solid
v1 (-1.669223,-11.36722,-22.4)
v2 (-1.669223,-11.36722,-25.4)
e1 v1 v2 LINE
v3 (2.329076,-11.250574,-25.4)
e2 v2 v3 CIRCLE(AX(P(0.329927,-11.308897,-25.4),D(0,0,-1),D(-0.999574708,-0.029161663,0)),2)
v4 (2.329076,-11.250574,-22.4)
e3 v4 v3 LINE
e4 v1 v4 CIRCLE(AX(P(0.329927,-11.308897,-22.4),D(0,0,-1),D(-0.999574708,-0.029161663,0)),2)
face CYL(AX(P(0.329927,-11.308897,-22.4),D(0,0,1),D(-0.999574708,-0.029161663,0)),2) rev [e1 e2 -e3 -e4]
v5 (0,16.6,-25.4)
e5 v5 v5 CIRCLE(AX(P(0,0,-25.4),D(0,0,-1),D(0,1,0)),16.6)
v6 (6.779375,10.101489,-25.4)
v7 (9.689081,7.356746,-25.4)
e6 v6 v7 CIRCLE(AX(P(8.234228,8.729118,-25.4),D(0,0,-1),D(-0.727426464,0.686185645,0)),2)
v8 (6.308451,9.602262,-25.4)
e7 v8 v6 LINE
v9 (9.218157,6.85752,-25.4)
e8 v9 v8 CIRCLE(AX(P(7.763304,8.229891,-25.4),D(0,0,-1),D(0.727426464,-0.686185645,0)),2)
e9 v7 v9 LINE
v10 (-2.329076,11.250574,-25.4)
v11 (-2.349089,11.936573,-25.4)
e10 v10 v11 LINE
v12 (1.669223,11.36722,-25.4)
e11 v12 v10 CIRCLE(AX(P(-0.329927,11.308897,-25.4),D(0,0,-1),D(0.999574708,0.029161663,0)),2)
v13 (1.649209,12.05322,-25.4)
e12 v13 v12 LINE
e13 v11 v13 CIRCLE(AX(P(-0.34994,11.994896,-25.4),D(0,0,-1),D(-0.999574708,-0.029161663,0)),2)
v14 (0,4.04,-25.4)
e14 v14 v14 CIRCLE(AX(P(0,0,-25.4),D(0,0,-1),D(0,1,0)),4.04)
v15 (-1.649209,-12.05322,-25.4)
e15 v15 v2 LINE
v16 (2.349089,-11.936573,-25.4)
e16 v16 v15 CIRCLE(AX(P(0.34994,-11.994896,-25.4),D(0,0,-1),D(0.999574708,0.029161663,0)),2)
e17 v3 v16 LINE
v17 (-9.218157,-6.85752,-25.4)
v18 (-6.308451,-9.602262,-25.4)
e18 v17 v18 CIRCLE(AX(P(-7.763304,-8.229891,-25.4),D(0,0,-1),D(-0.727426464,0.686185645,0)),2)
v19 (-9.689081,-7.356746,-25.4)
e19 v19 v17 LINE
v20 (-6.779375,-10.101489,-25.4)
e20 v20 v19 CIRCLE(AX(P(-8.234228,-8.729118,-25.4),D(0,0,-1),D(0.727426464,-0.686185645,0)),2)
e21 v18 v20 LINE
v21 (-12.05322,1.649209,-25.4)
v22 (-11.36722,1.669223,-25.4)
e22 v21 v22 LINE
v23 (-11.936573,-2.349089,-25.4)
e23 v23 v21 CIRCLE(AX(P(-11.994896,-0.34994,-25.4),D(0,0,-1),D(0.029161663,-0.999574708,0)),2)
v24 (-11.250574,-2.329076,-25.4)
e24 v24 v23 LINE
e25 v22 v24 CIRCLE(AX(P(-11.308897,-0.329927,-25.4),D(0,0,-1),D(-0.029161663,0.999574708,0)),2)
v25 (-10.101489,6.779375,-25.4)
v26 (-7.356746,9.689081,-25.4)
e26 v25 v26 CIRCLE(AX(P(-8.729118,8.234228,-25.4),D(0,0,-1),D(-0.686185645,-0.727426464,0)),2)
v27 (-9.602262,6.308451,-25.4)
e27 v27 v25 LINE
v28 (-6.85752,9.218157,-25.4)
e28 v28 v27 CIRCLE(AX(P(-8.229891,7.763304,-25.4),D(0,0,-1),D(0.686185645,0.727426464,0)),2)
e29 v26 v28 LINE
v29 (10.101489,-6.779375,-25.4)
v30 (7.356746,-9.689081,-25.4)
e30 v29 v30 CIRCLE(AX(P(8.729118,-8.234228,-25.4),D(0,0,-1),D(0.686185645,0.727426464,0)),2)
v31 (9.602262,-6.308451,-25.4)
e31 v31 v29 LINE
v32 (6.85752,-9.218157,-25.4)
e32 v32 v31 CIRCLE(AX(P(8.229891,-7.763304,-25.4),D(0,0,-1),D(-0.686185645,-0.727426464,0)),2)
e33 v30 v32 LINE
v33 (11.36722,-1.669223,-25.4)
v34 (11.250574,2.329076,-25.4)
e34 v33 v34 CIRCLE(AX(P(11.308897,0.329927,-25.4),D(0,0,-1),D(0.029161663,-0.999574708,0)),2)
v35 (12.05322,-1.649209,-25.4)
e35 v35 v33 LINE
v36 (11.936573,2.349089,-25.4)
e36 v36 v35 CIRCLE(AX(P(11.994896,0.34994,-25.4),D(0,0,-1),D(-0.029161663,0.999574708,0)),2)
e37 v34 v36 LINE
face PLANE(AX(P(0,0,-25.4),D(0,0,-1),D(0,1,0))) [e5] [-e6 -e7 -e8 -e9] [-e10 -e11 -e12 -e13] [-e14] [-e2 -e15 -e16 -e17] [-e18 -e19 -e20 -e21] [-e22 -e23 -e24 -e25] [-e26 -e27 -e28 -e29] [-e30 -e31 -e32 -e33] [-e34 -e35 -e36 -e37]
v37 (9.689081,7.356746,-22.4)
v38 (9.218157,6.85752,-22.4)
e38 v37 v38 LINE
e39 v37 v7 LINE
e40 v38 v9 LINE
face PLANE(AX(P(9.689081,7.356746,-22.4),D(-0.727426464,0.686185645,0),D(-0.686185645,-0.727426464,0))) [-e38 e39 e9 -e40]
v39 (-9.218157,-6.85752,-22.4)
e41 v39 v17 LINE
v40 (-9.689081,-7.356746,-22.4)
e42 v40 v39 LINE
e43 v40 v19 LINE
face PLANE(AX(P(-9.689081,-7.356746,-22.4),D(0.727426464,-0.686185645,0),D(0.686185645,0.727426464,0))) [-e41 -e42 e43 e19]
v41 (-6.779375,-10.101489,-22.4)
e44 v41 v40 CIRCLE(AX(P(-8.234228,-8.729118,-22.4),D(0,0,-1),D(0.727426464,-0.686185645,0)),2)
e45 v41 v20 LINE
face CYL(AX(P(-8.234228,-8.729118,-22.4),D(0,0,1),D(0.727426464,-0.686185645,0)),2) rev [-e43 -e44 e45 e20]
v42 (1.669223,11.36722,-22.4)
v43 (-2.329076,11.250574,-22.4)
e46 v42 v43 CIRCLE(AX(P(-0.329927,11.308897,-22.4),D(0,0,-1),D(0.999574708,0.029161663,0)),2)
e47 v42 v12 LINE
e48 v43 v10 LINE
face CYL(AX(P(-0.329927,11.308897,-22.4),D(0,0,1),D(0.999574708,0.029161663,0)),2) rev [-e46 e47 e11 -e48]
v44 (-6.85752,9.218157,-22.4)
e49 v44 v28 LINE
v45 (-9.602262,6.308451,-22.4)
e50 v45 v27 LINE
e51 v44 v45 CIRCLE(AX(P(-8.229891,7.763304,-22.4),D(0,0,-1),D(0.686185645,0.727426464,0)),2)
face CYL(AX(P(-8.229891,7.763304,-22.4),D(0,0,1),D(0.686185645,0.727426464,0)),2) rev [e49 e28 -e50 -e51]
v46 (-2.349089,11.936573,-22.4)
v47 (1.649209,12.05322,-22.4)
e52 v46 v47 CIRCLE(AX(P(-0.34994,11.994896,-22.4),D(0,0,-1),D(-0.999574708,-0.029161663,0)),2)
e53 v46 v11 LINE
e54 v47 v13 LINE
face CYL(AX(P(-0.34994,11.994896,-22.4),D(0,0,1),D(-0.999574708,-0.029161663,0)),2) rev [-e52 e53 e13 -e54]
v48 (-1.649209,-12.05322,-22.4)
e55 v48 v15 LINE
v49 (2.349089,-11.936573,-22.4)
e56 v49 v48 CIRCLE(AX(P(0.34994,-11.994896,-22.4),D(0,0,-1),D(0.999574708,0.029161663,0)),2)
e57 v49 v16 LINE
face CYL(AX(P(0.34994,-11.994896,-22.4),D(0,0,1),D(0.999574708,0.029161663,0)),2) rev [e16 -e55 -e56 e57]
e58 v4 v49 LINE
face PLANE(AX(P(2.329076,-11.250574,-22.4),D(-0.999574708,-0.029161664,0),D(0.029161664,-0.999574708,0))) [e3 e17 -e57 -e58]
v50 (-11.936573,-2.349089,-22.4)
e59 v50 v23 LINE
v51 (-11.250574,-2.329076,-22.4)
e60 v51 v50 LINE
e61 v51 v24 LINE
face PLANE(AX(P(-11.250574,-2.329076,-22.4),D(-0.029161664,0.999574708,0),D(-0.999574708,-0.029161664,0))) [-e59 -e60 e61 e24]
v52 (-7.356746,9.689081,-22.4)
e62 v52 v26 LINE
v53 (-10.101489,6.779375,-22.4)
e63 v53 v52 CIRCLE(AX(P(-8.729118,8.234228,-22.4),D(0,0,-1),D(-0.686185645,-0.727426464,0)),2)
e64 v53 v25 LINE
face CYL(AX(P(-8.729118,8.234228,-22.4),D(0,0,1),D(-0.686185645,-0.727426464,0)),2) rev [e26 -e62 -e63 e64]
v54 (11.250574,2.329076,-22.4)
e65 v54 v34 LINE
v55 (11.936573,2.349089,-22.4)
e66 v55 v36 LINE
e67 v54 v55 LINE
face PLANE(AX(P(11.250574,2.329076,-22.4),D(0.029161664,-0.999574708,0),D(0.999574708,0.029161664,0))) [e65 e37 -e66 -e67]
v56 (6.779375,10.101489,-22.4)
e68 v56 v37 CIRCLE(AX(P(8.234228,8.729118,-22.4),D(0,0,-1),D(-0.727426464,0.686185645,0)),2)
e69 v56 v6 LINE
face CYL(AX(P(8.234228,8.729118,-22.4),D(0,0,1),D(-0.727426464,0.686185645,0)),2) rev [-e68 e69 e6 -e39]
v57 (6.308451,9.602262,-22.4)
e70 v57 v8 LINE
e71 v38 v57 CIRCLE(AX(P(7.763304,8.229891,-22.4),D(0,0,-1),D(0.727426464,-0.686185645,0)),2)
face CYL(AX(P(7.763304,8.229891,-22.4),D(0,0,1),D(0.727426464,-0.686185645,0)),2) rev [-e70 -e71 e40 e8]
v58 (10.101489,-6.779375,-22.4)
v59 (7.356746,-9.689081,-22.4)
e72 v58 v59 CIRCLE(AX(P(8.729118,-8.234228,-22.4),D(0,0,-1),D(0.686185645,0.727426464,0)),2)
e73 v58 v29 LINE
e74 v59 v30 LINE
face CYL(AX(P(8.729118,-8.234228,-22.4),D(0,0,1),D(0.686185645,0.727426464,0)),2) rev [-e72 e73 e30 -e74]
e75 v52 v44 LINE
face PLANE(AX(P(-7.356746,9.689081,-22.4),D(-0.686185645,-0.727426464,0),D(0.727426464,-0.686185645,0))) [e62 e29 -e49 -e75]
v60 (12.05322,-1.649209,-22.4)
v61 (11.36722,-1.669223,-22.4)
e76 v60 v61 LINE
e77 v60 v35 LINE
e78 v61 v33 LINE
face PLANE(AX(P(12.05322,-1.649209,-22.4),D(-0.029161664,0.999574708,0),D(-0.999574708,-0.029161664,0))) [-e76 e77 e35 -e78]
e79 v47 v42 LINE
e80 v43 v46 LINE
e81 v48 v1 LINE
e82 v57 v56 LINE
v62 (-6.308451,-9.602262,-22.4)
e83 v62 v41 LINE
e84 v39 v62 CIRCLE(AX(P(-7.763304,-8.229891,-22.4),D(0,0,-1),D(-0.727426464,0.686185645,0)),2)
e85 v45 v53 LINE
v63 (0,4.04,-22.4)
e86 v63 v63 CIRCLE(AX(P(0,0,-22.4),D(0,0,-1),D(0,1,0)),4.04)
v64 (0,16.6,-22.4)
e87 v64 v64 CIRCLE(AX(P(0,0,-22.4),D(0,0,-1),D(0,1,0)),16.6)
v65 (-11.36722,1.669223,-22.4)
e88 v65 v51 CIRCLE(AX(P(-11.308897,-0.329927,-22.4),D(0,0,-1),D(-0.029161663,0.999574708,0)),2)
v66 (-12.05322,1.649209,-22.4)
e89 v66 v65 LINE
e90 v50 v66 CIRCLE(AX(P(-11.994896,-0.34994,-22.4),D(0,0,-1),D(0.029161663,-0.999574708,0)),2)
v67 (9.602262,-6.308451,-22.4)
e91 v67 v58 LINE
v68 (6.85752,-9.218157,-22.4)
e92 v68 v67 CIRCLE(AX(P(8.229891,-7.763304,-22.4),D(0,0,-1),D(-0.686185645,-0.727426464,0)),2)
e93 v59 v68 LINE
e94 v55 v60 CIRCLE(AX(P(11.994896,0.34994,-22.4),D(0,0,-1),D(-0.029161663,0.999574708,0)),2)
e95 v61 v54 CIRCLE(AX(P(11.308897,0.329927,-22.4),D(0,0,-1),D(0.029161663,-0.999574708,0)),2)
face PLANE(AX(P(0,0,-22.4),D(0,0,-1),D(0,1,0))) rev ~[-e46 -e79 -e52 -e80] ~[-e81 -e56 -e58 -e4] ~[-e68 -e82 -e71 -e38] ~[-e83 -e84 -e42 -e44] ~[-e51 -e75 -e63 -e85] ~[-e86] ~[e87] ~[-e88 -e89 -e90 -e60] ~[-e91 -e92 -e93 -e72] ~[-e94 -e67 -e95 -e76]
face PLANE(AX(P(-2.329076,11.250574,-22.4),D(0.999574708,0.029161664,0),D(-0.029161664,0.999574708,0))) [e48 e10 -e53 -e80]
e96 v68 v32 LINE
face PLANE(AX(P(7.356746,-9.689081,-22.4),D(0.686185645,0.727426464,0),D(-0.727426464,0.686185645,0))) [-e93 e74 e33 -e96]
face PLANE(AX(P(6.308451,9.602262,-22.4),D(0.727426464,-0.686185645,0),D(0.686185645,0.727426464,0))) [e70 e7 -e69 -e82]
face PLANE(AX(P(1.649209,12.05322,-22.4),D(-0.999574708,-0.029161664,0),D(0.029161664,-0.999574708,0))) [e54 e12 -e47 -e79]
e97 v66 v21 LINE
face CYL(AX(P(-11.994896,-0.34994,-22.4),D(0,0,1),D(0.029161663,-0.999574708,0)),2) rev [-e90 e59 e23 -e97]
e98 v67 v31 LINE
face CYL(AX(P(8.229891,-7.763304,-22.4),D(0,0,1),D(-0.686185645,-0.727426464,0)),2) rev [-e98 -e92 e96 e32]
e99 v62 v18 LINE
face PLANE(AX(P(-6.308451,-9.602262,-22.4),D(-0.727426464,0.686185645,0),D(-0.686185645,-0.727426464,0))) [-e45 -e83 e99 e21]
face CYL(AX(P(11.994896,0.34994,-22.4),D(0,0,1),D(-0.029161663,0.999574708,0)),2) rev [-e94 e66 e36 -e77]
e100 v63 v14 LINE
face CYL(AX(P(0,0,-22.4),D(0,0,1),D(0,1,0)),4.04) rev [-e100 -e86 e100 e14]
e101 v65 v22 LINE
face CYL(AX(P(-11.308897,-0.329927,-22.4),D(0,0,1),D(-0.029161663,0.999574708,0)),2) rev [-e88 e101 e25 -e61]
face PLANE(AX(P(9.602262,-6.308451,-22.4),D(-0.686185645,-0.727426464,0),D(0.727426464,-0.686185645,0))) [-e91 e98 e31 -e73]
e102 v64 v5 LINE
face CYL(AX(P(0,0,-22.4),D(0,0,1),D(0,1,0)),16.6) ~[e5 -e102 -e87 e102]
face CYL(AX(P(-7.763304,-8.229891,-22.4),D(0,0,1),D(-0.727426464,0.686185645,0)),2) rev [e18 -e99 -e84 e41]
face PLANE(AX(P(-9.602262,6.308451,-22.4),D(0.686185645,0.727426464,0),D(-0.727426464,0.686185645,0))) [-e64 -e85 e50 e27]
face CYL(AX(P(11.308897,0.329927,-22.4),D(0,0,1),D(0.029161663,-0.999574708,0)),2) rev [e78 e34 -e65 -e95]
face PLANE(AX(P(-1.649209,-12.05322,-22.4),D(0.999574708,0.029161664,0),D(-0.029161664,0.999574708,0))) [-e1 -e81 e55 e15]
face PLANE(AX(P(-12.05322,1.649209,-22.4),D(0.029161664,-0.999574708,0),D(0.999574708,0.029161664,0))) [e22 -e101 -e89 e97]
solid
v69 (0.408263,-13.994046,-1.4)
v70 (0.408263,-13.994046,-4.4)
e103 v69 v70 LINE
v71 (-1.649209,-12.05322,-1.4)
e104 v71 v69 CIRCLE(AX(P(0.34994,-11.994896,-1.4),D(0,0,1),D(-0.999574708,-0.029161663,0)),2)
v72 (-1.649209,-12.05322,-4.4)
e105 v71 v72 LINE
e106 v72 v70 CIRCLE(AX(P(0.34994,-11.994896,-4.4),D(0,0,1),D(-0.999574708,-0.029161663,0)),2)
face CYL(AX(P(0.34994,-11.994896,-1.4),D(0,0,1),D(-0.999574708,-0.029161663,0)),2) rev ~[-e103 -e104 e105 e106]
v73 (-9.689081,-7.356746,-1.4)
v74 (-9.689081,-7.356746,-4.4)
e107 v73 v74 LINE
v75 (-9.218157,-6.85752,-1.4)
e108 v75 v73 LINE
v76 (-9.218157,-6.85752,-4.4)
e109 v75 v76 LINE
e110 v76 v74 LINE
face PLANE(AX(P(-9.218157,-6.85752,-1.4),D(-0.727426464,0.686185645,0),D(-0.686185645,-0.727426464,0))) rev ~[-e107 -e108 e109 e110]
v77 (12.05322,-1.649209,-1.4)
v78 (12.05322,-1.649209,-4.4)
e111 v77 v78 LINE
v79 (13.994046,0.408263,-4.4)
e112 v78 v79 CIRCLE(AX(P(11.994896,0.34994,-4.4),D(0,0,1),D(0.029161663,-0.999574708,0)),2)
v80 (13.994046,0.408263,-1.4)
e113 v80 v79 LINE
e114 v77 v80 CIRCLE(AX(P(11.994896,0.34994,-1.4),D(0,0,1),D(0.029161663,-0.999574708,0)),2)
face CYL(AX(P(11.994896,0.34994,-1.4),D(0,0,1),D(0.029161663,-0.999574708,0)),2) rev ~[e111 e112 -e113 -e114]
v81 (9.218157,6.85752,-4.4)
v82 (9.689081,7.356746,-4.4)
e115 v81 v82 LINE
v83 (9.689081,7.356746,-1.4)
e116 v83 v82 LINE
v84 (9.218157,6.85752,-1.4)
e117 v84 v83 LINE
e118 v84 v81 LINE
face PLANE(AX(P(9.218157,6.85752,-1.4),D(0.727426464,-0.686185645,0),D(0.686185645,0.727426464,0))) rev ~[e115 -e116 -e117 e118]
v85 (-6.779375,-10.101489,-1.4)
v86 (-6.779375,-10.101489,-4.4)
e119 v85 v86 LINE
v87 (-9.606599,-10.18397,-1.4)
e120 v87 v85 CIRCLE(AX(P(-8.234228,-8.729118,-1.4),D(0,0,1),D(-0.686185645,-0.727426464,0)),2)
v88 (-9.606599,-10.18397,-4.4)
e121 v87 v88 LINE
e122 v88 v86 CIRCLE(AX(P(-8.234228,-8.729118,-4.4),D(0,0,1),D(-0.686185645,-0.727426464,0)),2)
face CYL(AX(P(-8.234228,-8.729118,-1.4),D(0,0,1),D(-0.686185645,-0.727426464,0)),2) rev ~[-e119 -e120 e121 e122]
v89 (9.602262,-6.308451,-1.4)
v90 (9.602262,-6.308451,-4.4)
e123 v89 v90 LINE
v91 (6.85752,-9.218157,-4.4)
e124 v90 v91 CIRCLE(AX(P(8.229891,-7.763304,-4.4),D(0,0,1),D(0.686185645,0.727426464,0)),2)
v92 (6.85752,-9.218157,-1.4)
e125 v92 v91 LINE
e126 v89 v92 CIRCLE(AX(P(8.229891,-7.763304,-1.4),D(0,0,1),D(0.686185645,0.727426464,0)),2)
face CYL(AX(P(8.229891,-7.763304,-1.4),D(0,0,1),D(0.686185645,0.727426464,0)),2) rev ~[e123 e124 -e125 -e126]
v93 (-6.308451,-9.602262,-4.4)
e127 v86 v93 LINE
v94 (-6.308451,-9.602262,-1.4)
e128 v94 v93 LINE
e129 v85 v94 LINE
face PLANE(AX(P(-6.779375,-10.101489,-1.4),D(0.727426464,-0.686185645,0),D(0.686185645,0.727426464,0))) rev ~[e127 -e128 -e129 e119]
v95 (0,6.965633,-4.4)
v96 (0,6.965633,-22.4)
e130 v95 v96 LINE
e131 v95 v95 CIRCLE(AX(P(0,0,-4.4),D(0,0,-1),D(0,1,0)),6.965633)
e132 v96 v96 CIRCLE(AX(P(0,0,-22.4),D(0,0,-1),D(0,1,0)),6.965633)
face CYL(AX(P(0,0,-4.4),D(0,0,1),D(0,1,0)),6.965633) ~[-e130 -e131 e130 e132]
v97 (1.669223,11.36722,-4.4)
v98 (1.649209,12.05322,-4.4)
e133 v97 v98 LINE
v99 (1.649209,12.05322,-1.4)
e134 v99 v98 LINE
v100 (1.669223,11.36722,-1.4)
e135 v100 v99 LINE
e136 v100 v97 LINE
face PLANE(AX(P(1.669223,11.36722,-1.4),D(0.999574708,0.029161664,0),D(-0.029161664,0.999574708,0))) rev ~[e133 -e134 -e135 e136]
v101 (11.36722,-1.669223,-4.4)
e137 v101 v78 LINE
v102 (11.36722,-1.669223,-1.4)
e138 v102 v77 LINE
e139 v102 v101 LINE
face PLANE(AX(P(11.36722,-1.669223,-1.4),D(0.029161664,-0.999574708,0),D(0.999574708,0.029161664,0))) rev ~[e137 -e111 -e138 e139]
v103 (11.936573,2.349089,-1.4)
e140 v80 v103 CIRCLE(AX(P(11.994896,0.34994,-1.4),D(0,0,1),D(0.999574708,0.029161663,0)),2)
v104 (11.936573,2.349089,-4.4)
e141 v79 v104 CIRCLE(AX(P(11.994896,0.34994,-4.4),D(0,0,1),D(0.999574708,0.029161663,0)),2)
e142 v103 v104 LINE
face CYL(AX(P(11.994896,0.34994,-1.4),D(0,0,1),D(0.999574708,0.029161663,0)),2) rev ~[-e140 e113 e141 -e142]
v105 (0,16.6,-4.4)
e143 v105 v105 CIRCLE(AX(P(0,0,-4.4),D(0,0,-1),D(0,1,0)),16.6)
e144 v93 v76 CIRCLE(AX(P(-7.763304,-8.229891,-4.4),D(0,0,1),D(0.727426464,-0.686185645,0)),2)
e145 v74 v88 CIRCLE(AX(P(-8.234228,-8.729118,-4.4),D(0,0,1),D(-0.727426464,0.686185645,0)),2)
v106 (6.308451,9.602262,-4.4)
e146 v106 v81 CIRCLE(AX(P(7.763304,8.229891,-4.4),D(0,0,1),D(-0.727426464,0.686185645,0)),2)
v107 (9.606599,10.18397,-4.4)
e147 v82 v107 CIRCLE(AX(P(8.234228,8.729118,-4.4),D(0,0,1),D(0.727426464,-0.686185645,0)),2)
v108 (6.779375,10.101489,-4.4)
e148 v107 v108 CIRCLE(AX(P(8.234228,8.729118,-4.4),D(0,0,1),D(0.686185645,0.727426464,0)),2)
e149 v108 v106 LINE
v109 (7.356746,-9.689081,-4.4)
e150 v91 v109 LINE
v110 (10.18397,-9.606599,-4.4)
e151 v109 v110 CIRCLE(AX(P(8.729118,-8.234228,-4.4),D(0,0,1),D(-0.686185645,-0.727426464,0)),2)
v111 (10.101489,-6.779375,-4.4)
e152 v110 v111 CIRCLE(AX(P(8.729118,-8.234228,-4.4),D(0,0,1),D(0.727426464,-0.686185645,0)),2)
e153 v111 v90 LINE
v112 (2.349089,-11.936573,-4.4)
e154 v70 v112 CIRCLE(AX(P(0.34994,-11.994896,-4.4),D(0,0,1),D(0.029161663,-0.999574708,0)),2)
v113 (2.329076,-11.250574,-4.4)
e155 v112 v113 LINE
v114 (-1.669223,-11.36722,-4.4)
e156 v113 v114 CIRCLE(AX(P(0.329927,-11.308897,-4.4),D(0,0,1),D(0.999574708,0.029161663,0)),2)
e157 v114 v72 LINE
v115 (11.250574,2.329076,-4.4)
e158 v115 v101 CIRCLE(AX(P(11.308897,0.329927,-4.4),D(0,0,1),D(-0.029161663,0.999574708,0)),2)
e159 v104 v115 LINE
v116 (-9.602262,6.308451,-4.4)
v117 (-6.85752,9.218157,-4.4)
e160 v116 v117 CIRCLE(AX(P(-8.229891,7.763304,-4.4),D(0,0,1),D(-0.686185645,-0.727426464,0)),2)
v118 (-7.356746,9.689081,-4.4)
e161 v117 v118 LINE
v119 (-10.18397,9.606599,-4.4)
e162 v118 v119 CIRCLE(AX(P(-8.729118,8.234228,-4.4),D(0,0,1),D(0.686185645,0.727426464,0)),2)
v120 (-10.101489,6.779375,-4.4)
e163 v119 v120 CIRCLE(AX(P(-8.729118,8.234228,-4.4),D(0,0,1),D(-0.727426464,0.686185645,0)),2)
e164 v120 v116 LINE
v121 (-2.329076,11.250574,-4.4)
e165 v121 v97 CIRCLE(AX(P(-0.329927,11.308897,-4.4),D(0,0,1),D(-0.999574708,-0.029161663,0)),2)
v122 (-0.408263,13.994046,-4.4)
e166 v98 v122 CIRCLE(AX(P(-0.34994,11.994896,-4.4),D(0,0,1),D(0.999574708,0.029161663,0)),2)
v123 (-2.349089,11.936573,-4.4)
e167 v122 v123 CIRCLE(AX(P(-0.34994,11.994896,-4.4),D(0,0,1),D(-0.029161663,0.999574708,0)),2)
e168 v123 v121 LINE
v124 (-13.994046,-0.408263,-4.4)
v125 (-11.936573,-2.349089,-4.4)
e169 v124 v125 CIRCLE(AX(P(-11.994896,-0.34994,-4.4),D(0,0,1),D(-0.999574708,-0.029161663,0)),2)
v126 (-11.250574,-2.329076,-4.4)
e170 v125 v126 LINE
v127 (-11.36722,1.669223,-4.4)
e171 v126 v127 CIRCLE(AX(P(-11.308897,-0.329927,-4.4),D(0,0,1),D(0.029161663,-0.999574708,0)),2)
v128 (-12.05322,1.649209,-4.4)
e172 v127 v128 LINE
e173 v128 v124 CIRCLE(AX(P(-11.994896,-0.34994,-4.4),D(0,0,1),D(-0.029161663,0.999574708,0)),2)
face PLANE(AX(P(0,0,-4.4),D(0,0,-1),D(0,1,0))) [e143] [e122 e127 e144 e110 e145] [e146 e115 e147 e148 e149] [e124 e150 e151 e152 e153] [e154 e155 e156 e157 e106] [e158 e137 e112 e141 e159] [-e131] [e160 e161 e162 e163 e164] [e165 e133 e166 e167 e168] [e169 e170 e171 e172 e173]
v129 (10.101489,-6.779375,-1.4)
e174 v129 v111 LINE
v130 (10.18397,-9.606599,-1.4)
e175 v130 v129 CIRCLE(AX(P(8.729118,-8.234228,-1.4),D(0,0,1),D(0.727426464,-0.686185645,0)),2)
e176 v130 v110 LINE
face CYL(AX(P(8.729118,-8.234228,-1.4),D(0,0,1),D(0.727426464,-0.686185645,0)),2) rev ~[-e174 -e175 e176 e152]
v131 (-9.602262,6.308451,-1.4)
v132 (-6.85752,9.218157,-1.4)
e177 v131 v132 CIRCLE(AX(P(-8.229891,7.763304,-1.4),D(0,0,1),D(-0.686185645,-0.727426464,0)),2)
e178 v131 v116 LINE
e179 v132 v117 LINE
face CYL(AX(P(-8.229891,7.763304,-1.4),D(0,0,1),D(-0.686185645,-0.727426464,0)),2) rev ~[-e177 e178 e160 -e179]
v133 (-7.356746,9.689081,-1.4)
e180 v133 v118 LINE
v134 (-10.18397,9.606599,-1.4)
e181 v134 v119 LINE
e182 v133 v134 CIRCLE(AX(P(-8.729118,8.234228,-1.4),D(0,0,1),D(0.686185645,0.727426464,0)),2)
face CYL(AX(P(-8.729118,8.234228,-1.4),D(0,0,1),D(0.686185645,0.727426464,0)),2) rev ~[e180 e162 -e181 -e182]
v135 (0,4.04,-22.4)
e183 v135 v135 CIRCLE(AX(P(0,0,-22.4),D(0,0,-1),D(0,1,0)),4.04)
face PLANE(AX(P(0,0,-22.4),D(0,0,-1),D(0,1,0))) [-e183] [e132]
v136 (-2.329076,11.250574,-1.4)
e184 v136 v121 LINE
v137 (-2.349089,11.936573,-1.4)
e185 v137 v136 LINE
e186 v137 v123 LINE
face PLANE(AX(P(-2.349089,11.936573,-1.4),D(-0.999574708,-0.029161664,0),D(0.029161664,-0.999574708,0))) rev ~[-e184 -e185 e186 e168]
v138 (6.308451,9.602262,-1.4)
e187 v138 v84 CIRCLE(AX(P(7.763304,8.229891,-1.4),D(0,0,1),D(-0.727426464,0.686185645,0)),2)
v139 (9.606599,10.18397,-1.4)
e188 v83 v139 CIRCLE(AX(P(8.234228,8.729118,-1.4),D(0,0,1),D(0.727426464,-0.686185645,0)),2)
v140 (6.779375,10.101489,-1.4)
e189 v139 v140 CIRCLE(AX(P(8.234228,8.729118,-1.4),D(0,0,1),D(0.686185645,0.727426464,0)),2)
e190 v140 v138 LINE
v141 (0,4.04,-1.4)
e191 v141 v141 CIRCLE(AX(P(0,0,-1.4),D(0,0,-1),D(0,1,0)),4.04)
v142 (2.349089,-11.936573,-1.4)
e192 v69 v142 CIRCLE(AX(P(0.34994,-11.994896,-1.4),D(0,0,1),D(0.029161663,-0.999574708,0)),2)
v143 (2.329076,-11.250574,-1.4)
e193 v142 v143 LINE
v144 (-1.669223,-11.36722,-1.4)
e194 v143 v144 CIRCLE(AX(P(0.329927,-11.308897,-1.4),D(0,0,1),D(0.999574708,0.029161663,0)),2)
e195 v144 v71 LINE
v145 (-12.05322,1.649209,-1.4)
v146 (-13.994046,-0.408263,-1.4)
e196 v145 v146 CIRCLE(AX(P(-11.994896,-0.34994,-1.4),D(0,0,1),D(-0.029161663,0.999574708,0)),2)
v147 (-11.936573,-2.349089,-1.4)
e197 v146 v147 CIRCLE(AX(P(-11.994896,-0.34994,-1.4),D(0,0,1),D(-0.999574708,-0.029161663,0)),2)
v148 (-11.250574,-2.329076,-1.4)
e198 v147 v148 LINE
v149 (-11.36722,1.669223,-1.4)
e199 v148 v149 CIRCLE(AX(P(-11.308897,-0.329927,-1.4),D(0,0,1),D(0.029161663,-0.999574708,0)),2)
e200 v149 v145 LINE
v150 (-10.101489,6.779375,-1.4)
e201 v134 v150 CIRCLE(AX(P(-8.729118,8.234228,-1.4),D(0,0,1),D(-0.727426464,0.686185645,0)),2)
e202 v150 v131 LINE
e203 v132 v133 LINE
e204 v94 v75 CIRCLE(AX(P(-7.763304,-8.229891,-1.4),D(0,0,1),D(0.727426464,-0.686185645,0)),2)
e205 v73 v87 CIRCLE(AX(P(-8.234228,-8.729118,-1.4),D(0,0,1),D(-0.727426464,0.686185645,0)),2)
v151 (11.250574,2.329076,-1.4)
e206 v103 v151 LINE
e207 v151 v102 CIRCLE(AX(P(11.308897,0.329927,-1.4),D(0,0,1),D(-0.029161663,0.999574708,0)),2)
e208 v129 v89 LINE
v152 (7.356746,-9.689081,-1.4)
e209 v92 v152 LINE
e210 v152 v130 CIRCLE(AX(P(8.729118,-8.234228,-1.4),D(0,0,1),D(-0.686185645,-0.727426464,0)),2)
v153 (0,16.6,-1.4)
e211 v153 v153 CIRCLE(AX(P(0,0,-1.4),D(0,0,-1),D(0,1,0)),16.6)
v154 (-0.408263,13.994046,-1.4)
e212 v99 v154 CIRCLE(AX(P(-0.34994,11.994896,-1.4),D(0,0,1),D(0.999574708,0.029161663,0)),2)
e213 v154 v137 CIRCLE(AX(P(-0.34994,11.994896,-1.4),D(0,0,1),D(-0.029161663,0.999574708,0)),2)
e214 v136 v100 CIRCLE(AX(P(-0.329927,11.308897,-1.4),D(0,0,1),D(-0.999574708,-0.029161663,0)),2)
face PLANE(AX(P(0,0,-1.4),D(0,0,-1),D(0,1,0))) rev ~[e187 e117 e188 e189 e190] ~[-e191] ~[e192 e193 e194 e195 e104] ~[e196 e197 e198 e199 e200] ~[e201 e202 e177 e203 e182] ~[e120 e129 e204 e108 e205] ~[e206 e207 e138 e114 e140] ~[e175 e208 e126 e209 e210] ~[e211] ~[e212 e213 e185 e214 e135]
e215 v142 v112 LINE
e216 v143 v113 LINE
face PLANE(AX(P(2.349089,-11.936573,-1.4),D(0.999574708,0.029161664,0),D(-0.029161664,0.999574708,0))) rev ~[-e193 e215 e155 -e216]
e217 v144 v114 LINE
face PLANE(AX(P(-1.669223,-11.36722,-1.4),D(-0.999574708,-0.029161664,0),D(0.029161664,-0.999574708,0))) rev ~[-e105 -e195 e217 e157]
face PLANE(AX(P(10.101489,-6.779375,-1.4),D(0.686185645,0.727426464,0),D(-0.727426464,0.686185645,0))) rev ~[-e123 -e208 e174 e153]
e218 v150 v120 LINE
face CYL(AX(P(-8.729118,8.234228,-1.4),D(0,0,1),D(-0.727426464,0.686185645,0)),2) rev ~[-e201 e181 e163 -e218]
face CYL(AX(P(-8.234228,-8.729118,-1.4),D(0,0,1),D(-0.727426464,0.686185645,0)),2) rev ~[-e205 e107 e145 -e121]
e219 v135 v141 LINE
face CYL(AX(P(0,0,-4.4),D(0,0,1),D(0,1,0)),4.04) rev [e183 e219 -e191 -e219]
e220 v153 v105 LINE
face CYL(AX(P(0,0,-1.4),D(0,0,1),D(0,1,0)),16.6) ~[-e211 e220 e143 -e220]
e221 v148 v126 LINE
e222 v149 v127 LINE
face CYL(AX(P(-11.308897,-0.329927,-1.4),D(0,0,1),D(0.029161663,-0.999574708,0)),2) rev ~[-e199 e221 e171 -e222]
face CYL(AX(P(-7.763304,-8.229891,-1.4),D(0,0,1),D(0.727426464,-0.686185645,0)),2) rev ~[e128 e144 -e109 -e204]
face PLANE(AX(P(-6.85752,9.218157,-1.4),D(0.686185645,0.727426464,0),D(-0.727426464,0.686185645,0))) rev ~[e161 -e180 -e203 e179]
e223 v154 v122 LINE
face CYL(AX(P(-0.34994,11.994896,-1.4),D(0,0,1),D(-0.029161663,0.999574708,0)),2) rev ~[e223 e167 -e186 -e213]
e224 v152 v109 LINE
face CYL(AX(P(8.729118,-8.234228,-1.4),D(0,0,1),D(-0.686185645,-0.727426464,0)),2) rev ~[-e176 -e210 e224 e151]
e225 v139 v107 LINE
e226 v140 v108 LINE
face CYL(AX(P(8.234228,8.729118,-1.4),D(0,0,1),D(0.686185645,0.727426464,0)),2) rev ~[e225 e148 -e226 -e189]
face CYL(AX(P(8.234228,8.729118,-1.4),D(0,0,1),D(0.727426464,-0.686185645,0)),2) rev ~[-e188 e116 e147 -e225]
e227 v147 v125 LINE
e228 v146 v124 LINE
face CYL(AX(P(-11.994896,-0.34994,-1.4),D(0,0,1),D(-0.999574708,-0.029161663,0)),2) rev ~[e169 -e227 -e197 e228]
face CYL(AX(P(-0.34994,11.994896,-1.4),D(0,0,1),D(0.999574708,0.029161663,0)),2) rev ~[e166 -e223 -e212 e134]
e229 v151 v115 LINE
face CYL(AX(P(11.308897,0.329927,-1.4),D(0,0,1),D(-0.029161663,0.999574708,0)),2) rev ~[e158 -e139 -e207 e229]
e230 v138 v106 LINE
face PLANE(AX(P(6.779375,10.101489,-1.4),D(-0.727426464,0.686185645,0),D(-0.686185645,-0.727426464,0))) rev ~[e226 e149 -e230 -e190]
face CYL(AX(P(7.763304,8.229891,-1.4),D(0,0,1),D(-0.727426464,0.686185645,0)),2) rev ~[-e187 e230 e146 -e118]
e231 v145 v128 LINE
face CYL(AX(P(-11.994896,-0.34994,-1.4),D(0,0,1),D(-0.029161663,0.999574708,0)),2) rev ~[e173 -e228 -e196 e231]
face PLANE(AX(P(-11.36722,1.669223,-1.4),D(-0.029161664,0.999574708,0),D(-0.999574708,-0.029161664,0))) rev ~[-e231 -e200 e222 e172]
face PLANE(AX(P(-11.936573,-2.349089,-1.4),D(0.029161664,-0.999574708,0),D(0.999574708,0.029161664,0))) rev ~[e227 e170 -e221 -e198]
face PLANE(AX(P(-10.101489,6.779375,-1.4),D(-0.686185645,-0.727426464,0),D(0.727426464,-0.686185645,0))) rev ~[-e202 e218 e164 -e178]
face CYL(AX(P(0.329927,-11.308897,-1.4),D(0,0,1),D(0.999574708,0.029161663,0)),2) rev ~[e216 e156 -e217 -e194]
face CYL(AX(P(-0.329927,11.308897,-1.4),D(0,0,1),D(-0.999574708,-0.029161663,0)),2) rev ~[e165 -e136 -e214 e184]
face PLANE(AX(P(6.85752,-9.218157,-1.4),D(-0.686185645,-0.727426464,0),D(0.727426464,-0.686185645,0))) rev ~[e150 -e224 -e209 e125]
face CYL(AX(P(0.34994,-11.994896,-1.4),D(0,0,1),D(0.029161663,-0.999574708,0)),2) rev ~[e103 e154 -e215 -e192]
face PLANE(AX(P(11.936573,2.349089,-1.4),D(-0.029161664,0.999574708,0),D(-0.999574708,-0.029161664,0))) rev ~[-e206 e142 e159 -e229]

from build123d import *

# Parameters (mm, degrees)
SKETCH_4_R      = 16.6
SKETCH_4_R_2    = 4.04
EXTRUDE_1_DEPTH = 3
SKETCH_5_R      = 6.965633075
SKETCH_5_R_2    = 4.04
EXTRUDE_2_DEPTH = 18
SKETCH_8_R      = 16.6
SKETCH_8_R_2    = 4.04
EXTRUDE_3_DEPTH = 3


with BuildPart() as part:
    # 草图4 → 凸台-拉伸1 (new body)
    with BuildSketch(Plane(origin=(0, 0, -1.4), x_dir=(-1, 0, 0), z_dir=(0, 0, -1))):
        with Locations(Location((0, 0, 0), (0, 0, 90))):
            Circle(SKETCH_4_R)
        with Locations(Location((0, 0, 0), (0, 0, 90))):
            Circle(SKETCH_4_R_2, mode=Mode.SUBTRACT)
        with BuildLine():
            Line((-6.779374808, 10.101488861), (-6.308451432, 9.602262261))
            ThreePointArc((-6.308451432, 9.602262261), (-6.390933071, 6.775038043), (-9.218157289, 6.857519682))
            Line((-9.218157289, 6.857519682), (-9.689080665, 7.356746282))
            ThreePointArc((-9.689080665, 7.356746282), (-10.233377153, 8.787440898), (-9.606599026, 10.1839705))
            ThreePointArc((-9.606599026, 10.1839705), (-8.17590441, 10.728266988), (-6.779374808, 10.101488861))
        make_face(mode=Mode.SUBTRACT)
        with BuildLine():
            Line((-1.66922286, 11.367220199), (-1.649209458, 12.053219826))
            ThreePointArc((-1.649209458, 12.053219826), (-1.022431331, 13.449749428), (0.408263285, 13.994045916))
            ThreePointArc((0.408263285, 13.994045916), (1.804792887, 13.367267789), (2.349089375, 11.936573173))
            Line((2.349089375, 11.936573173), (2.329075973, 11.250573546))
            ThreePointArc((2.329075973, 11.250573546), (0.27160323, 9.309747456), (-1.66922286, 11.367220199))
        make_face(mode=Mode.SUBTRACT)
        with BuildLine():
            Line((6.857519682, 9.218157289), (7.356746282, 9.689080665))
            ThreePointArc((7.356746282, 9.689080665), (8.787440898, 10.233377153), (10.1839705, 9.606599026))
            ThreePointArc((10.1839705, 9.606599026), (10.728266988, 8.17590441), (10.101488861, 6.779374808))
            Line((10.101488861, 6.779374808), (9.602262261, 6.308451432))
            ThreePointArc((9.602262261, 6.308451432), (6.775038043, 6.390933071), (6.857519682, 9.218157289))
        make_face(mode=Mode.SUBTRACT)
        with BuildLine():
            Line((11.367220199, 1.66922286), (12.053219826, 1.649209458))
            ThreePointArc((12.053219826, 1.649209458), (13.449749428, 1.022431331), (13.994045916, -0.408263285))
            ThreePointArc((13.994045916, -0.408263285), (13.367267789, -1.804792887), (11.936573173, -2.349089375))
            Line((11.936573173, -2.349089375), (11.250573546, -2.329075973))
            ThreePointArc((11.250573546, -2.329075973), (9.309747456, -0.27160323), (11.367220199, 1.66922286))
        make_face(mode=Mode.SUBTRACT)
        with BuildLine():
            Line((9.218157289, -6.857519682), (9.689080665, -7.356746282))
            ThreePointArc((9.689080665, -7.356746282), (10.233377153, -8.787440898), (9.606599026, -10.1839705))
            ThreePointArc((9.606599026, -10.1839705), (8.17590441, -10.728266988), (6.779374808, -10.101488861))
            Line((6.779374808, -10.101488861), (6.308451432, -9.602262261))
            ThreePointArc((6.308451432, -9.602262261), (6.390933071, -6.775038043), (9.218157289, -6.857519682))
        make_face(mode=Mode.SUBTRACT)
        with BuildLine():
            Line((1.66922286, -11.367220199), (1.649209458, -12.053219826))
            ThreePointArc((1.649209458, -12.053219826), (1.022431331, -13.449749428), (-0.408263285, -13.994045916))
            ThreePointArc((-0.408263285, -13.994045916), (-1.804792887, -13.367267789), (-2.349089375, -11.936573173))
            Line((-2.349089375, -11.936573173), (-2.329075973, -11.250573546))
            ThreePointArc((-2.329075973, -11.250573546), (-0.27160323, -9.309747456), (1.66922286, -11.367220199))
        make_face(mode=Mode.SUBTRACT)
        with BuildLine():
            Line((-6.857519682, -9.218157289), (-7.356746282, -9.689080665))
            ThreePointArc((-7.356746282, -9.689080665), (-8.787440898, -10.233377153), (-10.1839705, -9.606599026))
            ThreePointArc((-10.1839705, -9.606599026), (-10.728266988, -8.17590441), (-10.101488861, -6.779374808))
            Line((-10.101488861, -6.779374808), (-9.602262261, -6.308451432))
            ThreePointArc((-9.602262261, -6.308451432), (-6.775038043, -6.390933071), (-6.857519682, -9.218157289))
        make_face(mode=Mode.SUBTRACT)
        with BuildLine():
            Line((-11.367220199, -1.66922286), (-12.053219826, -1.649209458))
            ThreePointArc((-12.053219826, -1.649209458), (-13.449749428, -1.022431331), (-13.994045916, 0.408263285))
            ThreePointArc((-13.994045916, 0.408263285), (-13.367267789, 1.804792887), (-11.936573173, 2.349089375))
            Line((-11.936573173, 2.349089375), (-11.250573546, 2.329075973))
            ThreePointArc((-11.250573546, 2.329075973), (-9.309747456, 0.27160323), (-11.367220199, -1.66922286))
        make_face(mode=Mode.SUBTRACT)
    extrude(amount=EXTRUDE_1_DEPTH)

    # 草图5 → 凸台-拉伸2 (add)
    with BuildSketch(Plane(origin=(0, 0, -4.4), x_dir=(-1, 0, 0), z_dir=(0, 0, -1))):
        with Locations(Location((0, 0, 0), (0, 0, 90))):
            Circle(SKETCH_5_R)
        with Locations(Location((0, 0, 0), (0, 0, 90))):
            Circle(SKETCH_5_R_2, mode=Mode.SUBTRACT)
    extrude(amount=EXTRUDE_2_DEPTH)


with BuildPart() as body_2:
    # 草图8 → 凸台-拉伸3 (new body)
    with BuildSketch(Plane(origin=(0, 0, -22.4), x_dir=(-1, 0, 0), z_dir=(0, 0, -1))):
        with Locations(Location((0, 0, 0), (0, 0, 90))):
            Circle(SKETCH_8_R)
        with Locations(Location((0, 0, 0), (0, 0, 90))):
            Circle(SKETCH_8_R_2, mode=Mode.SUBTRACT)
        with BuildLine():
            Line((-2.329075973, -11.250573546), (-2.349089375, -11.936573173))
            ThreePointArc((-2.349089375, -11.936573173), (-0.408263285, -13.994045916), (1.649209458, -12.053219826))
            Line((1.649209458, -12.053219826), (1.66922286, -11.367220199))
            ThreePointArc((1.66922286, -11.367220199), (-0.27160323, -9.309747456), (-2.329075973, -11.250573546))
        make_face(mode=Mode.SUBTRACT)
        with BuildLine():
            Line((-9.602262261, -6.308451432), (-10.101488861, -6.779374808))
            ThreePointArc((-10.101488861, -6.779374808), (-10.1839705, -9.606599026), (-7.356746282, -9.689080665))
            Line((-7.356746282, -9.689080665), (-6.857519682, -9.218157289))
            ThreePointArc((-6.857519682, -9.218157289), (-6.775038043, -6.390933071), (-9.602262261, -6.308451432))
        make_face(mode=Mode.SUBTRACT)
        with BuildLine():
            Line((-11.250573546, 2.329075973), (-11.936573173, 2.349089375))
            ThreePointArc((-11.936573173, 2.349089375), (-13.994045916, 0.408263285), (-12.053219826, -1.649209458))
            Line((-12.053219826, -1.649209458), (-11.367220199, -1.66922286))
            ThreePointArc((-11.367220199, -1.66922286), (-9.309747456, 0.27160323), (-11.250573546, 2.329075973))
        make_face(mode=Mode.SUBTRACT)
        with BuildLine():
            Line((-6.308451432, 9.602262261), (-6.779374808, 10.101488861))
            ThreePointArc((-6.779374808, 10.101488861), (-9.606599026, 10.1839705), (-9.689080665, 7.356746282))
            Line((-9.689080665, 7.356746282), (-9.218157289, 6.857519682))
            ThreePointArc((-9.218157289, 6.857519682), (-6.390933071, 6.775038043), (-6.308451432, 9.602262261))
        make_face(mode=Mode.SUBTRACT)
        with BuildLine():
            Line((2.329075973, 11.250573546), (2.349089375, 11.936573173))
            ThreePointArc((2.349089375, 11.936573173), (0.408263285, 13.994045916), (-1.649209458, 12.053219826))
            Line((-1.649209458, 12.053219826), (-1.66922286, 11.367220199))
            ThreePointArc((-1.66922286, 11.367220199), (0.27160323, 9.309747456), (2.329075973, 11.250573546))
        make_face(mode=Mode.SUBTRACT)
        with BuildLine():
            Line((9.602262261, 6.308451432), (10.101488861, 6.779374808))
            ThreePointArc((10.101488861, 6.779374808), (10.1839705, 9.606599026), (7.356746282, 9.689080665))
            Line((7.356746282, 9.689080665), (6.857519682, 9.218157289))
            ThreePointArc((6.857519682, 9.218157289), (6.775038043, 6.390933071), (9.602262261, 6.308451432))
        make_face(mode=Mode.SUBTRACT)
        with BuildLine():
            Line((11.250573546, -2.329075973), (11.936573173, -2.349089375))
            ThreePointArc((11.936573173, -2.349089375), (13.994045916, -0.408263285), (12.053219826, 1.649209458))
            Line((12.053219826, 1.649209458), (11.367220199, 1.66922286))
            ThreePointArc((11.367220199, 1.66922286), (9.309747456, -0.27160323), (11.250573546, -2.329075973))
        make_face(mode=Mode.SUBTRACT)
        with BuildLine():
            Line((6.308451432, -9.602262261), (6.779374808, -10.101488861))
            ThreePointArc((6.779374808, -10.101488861), (9.606599026, -10.1839705), (9.689080665, -7.356746282))
            Line((9.689080665, -7.356746282), (9.218157289, -6.857519682))
            ThreePointArc((9.218157289, -6.857519682), (6.390933071, -6.775038043), (6.308451432, -9.602262261))
        make_face(mode=Mode.SUBTRACT)
    extrude(amount=EXTRUDE_3_DEPTH)


solid = Compound([part.part, body_2.part])
